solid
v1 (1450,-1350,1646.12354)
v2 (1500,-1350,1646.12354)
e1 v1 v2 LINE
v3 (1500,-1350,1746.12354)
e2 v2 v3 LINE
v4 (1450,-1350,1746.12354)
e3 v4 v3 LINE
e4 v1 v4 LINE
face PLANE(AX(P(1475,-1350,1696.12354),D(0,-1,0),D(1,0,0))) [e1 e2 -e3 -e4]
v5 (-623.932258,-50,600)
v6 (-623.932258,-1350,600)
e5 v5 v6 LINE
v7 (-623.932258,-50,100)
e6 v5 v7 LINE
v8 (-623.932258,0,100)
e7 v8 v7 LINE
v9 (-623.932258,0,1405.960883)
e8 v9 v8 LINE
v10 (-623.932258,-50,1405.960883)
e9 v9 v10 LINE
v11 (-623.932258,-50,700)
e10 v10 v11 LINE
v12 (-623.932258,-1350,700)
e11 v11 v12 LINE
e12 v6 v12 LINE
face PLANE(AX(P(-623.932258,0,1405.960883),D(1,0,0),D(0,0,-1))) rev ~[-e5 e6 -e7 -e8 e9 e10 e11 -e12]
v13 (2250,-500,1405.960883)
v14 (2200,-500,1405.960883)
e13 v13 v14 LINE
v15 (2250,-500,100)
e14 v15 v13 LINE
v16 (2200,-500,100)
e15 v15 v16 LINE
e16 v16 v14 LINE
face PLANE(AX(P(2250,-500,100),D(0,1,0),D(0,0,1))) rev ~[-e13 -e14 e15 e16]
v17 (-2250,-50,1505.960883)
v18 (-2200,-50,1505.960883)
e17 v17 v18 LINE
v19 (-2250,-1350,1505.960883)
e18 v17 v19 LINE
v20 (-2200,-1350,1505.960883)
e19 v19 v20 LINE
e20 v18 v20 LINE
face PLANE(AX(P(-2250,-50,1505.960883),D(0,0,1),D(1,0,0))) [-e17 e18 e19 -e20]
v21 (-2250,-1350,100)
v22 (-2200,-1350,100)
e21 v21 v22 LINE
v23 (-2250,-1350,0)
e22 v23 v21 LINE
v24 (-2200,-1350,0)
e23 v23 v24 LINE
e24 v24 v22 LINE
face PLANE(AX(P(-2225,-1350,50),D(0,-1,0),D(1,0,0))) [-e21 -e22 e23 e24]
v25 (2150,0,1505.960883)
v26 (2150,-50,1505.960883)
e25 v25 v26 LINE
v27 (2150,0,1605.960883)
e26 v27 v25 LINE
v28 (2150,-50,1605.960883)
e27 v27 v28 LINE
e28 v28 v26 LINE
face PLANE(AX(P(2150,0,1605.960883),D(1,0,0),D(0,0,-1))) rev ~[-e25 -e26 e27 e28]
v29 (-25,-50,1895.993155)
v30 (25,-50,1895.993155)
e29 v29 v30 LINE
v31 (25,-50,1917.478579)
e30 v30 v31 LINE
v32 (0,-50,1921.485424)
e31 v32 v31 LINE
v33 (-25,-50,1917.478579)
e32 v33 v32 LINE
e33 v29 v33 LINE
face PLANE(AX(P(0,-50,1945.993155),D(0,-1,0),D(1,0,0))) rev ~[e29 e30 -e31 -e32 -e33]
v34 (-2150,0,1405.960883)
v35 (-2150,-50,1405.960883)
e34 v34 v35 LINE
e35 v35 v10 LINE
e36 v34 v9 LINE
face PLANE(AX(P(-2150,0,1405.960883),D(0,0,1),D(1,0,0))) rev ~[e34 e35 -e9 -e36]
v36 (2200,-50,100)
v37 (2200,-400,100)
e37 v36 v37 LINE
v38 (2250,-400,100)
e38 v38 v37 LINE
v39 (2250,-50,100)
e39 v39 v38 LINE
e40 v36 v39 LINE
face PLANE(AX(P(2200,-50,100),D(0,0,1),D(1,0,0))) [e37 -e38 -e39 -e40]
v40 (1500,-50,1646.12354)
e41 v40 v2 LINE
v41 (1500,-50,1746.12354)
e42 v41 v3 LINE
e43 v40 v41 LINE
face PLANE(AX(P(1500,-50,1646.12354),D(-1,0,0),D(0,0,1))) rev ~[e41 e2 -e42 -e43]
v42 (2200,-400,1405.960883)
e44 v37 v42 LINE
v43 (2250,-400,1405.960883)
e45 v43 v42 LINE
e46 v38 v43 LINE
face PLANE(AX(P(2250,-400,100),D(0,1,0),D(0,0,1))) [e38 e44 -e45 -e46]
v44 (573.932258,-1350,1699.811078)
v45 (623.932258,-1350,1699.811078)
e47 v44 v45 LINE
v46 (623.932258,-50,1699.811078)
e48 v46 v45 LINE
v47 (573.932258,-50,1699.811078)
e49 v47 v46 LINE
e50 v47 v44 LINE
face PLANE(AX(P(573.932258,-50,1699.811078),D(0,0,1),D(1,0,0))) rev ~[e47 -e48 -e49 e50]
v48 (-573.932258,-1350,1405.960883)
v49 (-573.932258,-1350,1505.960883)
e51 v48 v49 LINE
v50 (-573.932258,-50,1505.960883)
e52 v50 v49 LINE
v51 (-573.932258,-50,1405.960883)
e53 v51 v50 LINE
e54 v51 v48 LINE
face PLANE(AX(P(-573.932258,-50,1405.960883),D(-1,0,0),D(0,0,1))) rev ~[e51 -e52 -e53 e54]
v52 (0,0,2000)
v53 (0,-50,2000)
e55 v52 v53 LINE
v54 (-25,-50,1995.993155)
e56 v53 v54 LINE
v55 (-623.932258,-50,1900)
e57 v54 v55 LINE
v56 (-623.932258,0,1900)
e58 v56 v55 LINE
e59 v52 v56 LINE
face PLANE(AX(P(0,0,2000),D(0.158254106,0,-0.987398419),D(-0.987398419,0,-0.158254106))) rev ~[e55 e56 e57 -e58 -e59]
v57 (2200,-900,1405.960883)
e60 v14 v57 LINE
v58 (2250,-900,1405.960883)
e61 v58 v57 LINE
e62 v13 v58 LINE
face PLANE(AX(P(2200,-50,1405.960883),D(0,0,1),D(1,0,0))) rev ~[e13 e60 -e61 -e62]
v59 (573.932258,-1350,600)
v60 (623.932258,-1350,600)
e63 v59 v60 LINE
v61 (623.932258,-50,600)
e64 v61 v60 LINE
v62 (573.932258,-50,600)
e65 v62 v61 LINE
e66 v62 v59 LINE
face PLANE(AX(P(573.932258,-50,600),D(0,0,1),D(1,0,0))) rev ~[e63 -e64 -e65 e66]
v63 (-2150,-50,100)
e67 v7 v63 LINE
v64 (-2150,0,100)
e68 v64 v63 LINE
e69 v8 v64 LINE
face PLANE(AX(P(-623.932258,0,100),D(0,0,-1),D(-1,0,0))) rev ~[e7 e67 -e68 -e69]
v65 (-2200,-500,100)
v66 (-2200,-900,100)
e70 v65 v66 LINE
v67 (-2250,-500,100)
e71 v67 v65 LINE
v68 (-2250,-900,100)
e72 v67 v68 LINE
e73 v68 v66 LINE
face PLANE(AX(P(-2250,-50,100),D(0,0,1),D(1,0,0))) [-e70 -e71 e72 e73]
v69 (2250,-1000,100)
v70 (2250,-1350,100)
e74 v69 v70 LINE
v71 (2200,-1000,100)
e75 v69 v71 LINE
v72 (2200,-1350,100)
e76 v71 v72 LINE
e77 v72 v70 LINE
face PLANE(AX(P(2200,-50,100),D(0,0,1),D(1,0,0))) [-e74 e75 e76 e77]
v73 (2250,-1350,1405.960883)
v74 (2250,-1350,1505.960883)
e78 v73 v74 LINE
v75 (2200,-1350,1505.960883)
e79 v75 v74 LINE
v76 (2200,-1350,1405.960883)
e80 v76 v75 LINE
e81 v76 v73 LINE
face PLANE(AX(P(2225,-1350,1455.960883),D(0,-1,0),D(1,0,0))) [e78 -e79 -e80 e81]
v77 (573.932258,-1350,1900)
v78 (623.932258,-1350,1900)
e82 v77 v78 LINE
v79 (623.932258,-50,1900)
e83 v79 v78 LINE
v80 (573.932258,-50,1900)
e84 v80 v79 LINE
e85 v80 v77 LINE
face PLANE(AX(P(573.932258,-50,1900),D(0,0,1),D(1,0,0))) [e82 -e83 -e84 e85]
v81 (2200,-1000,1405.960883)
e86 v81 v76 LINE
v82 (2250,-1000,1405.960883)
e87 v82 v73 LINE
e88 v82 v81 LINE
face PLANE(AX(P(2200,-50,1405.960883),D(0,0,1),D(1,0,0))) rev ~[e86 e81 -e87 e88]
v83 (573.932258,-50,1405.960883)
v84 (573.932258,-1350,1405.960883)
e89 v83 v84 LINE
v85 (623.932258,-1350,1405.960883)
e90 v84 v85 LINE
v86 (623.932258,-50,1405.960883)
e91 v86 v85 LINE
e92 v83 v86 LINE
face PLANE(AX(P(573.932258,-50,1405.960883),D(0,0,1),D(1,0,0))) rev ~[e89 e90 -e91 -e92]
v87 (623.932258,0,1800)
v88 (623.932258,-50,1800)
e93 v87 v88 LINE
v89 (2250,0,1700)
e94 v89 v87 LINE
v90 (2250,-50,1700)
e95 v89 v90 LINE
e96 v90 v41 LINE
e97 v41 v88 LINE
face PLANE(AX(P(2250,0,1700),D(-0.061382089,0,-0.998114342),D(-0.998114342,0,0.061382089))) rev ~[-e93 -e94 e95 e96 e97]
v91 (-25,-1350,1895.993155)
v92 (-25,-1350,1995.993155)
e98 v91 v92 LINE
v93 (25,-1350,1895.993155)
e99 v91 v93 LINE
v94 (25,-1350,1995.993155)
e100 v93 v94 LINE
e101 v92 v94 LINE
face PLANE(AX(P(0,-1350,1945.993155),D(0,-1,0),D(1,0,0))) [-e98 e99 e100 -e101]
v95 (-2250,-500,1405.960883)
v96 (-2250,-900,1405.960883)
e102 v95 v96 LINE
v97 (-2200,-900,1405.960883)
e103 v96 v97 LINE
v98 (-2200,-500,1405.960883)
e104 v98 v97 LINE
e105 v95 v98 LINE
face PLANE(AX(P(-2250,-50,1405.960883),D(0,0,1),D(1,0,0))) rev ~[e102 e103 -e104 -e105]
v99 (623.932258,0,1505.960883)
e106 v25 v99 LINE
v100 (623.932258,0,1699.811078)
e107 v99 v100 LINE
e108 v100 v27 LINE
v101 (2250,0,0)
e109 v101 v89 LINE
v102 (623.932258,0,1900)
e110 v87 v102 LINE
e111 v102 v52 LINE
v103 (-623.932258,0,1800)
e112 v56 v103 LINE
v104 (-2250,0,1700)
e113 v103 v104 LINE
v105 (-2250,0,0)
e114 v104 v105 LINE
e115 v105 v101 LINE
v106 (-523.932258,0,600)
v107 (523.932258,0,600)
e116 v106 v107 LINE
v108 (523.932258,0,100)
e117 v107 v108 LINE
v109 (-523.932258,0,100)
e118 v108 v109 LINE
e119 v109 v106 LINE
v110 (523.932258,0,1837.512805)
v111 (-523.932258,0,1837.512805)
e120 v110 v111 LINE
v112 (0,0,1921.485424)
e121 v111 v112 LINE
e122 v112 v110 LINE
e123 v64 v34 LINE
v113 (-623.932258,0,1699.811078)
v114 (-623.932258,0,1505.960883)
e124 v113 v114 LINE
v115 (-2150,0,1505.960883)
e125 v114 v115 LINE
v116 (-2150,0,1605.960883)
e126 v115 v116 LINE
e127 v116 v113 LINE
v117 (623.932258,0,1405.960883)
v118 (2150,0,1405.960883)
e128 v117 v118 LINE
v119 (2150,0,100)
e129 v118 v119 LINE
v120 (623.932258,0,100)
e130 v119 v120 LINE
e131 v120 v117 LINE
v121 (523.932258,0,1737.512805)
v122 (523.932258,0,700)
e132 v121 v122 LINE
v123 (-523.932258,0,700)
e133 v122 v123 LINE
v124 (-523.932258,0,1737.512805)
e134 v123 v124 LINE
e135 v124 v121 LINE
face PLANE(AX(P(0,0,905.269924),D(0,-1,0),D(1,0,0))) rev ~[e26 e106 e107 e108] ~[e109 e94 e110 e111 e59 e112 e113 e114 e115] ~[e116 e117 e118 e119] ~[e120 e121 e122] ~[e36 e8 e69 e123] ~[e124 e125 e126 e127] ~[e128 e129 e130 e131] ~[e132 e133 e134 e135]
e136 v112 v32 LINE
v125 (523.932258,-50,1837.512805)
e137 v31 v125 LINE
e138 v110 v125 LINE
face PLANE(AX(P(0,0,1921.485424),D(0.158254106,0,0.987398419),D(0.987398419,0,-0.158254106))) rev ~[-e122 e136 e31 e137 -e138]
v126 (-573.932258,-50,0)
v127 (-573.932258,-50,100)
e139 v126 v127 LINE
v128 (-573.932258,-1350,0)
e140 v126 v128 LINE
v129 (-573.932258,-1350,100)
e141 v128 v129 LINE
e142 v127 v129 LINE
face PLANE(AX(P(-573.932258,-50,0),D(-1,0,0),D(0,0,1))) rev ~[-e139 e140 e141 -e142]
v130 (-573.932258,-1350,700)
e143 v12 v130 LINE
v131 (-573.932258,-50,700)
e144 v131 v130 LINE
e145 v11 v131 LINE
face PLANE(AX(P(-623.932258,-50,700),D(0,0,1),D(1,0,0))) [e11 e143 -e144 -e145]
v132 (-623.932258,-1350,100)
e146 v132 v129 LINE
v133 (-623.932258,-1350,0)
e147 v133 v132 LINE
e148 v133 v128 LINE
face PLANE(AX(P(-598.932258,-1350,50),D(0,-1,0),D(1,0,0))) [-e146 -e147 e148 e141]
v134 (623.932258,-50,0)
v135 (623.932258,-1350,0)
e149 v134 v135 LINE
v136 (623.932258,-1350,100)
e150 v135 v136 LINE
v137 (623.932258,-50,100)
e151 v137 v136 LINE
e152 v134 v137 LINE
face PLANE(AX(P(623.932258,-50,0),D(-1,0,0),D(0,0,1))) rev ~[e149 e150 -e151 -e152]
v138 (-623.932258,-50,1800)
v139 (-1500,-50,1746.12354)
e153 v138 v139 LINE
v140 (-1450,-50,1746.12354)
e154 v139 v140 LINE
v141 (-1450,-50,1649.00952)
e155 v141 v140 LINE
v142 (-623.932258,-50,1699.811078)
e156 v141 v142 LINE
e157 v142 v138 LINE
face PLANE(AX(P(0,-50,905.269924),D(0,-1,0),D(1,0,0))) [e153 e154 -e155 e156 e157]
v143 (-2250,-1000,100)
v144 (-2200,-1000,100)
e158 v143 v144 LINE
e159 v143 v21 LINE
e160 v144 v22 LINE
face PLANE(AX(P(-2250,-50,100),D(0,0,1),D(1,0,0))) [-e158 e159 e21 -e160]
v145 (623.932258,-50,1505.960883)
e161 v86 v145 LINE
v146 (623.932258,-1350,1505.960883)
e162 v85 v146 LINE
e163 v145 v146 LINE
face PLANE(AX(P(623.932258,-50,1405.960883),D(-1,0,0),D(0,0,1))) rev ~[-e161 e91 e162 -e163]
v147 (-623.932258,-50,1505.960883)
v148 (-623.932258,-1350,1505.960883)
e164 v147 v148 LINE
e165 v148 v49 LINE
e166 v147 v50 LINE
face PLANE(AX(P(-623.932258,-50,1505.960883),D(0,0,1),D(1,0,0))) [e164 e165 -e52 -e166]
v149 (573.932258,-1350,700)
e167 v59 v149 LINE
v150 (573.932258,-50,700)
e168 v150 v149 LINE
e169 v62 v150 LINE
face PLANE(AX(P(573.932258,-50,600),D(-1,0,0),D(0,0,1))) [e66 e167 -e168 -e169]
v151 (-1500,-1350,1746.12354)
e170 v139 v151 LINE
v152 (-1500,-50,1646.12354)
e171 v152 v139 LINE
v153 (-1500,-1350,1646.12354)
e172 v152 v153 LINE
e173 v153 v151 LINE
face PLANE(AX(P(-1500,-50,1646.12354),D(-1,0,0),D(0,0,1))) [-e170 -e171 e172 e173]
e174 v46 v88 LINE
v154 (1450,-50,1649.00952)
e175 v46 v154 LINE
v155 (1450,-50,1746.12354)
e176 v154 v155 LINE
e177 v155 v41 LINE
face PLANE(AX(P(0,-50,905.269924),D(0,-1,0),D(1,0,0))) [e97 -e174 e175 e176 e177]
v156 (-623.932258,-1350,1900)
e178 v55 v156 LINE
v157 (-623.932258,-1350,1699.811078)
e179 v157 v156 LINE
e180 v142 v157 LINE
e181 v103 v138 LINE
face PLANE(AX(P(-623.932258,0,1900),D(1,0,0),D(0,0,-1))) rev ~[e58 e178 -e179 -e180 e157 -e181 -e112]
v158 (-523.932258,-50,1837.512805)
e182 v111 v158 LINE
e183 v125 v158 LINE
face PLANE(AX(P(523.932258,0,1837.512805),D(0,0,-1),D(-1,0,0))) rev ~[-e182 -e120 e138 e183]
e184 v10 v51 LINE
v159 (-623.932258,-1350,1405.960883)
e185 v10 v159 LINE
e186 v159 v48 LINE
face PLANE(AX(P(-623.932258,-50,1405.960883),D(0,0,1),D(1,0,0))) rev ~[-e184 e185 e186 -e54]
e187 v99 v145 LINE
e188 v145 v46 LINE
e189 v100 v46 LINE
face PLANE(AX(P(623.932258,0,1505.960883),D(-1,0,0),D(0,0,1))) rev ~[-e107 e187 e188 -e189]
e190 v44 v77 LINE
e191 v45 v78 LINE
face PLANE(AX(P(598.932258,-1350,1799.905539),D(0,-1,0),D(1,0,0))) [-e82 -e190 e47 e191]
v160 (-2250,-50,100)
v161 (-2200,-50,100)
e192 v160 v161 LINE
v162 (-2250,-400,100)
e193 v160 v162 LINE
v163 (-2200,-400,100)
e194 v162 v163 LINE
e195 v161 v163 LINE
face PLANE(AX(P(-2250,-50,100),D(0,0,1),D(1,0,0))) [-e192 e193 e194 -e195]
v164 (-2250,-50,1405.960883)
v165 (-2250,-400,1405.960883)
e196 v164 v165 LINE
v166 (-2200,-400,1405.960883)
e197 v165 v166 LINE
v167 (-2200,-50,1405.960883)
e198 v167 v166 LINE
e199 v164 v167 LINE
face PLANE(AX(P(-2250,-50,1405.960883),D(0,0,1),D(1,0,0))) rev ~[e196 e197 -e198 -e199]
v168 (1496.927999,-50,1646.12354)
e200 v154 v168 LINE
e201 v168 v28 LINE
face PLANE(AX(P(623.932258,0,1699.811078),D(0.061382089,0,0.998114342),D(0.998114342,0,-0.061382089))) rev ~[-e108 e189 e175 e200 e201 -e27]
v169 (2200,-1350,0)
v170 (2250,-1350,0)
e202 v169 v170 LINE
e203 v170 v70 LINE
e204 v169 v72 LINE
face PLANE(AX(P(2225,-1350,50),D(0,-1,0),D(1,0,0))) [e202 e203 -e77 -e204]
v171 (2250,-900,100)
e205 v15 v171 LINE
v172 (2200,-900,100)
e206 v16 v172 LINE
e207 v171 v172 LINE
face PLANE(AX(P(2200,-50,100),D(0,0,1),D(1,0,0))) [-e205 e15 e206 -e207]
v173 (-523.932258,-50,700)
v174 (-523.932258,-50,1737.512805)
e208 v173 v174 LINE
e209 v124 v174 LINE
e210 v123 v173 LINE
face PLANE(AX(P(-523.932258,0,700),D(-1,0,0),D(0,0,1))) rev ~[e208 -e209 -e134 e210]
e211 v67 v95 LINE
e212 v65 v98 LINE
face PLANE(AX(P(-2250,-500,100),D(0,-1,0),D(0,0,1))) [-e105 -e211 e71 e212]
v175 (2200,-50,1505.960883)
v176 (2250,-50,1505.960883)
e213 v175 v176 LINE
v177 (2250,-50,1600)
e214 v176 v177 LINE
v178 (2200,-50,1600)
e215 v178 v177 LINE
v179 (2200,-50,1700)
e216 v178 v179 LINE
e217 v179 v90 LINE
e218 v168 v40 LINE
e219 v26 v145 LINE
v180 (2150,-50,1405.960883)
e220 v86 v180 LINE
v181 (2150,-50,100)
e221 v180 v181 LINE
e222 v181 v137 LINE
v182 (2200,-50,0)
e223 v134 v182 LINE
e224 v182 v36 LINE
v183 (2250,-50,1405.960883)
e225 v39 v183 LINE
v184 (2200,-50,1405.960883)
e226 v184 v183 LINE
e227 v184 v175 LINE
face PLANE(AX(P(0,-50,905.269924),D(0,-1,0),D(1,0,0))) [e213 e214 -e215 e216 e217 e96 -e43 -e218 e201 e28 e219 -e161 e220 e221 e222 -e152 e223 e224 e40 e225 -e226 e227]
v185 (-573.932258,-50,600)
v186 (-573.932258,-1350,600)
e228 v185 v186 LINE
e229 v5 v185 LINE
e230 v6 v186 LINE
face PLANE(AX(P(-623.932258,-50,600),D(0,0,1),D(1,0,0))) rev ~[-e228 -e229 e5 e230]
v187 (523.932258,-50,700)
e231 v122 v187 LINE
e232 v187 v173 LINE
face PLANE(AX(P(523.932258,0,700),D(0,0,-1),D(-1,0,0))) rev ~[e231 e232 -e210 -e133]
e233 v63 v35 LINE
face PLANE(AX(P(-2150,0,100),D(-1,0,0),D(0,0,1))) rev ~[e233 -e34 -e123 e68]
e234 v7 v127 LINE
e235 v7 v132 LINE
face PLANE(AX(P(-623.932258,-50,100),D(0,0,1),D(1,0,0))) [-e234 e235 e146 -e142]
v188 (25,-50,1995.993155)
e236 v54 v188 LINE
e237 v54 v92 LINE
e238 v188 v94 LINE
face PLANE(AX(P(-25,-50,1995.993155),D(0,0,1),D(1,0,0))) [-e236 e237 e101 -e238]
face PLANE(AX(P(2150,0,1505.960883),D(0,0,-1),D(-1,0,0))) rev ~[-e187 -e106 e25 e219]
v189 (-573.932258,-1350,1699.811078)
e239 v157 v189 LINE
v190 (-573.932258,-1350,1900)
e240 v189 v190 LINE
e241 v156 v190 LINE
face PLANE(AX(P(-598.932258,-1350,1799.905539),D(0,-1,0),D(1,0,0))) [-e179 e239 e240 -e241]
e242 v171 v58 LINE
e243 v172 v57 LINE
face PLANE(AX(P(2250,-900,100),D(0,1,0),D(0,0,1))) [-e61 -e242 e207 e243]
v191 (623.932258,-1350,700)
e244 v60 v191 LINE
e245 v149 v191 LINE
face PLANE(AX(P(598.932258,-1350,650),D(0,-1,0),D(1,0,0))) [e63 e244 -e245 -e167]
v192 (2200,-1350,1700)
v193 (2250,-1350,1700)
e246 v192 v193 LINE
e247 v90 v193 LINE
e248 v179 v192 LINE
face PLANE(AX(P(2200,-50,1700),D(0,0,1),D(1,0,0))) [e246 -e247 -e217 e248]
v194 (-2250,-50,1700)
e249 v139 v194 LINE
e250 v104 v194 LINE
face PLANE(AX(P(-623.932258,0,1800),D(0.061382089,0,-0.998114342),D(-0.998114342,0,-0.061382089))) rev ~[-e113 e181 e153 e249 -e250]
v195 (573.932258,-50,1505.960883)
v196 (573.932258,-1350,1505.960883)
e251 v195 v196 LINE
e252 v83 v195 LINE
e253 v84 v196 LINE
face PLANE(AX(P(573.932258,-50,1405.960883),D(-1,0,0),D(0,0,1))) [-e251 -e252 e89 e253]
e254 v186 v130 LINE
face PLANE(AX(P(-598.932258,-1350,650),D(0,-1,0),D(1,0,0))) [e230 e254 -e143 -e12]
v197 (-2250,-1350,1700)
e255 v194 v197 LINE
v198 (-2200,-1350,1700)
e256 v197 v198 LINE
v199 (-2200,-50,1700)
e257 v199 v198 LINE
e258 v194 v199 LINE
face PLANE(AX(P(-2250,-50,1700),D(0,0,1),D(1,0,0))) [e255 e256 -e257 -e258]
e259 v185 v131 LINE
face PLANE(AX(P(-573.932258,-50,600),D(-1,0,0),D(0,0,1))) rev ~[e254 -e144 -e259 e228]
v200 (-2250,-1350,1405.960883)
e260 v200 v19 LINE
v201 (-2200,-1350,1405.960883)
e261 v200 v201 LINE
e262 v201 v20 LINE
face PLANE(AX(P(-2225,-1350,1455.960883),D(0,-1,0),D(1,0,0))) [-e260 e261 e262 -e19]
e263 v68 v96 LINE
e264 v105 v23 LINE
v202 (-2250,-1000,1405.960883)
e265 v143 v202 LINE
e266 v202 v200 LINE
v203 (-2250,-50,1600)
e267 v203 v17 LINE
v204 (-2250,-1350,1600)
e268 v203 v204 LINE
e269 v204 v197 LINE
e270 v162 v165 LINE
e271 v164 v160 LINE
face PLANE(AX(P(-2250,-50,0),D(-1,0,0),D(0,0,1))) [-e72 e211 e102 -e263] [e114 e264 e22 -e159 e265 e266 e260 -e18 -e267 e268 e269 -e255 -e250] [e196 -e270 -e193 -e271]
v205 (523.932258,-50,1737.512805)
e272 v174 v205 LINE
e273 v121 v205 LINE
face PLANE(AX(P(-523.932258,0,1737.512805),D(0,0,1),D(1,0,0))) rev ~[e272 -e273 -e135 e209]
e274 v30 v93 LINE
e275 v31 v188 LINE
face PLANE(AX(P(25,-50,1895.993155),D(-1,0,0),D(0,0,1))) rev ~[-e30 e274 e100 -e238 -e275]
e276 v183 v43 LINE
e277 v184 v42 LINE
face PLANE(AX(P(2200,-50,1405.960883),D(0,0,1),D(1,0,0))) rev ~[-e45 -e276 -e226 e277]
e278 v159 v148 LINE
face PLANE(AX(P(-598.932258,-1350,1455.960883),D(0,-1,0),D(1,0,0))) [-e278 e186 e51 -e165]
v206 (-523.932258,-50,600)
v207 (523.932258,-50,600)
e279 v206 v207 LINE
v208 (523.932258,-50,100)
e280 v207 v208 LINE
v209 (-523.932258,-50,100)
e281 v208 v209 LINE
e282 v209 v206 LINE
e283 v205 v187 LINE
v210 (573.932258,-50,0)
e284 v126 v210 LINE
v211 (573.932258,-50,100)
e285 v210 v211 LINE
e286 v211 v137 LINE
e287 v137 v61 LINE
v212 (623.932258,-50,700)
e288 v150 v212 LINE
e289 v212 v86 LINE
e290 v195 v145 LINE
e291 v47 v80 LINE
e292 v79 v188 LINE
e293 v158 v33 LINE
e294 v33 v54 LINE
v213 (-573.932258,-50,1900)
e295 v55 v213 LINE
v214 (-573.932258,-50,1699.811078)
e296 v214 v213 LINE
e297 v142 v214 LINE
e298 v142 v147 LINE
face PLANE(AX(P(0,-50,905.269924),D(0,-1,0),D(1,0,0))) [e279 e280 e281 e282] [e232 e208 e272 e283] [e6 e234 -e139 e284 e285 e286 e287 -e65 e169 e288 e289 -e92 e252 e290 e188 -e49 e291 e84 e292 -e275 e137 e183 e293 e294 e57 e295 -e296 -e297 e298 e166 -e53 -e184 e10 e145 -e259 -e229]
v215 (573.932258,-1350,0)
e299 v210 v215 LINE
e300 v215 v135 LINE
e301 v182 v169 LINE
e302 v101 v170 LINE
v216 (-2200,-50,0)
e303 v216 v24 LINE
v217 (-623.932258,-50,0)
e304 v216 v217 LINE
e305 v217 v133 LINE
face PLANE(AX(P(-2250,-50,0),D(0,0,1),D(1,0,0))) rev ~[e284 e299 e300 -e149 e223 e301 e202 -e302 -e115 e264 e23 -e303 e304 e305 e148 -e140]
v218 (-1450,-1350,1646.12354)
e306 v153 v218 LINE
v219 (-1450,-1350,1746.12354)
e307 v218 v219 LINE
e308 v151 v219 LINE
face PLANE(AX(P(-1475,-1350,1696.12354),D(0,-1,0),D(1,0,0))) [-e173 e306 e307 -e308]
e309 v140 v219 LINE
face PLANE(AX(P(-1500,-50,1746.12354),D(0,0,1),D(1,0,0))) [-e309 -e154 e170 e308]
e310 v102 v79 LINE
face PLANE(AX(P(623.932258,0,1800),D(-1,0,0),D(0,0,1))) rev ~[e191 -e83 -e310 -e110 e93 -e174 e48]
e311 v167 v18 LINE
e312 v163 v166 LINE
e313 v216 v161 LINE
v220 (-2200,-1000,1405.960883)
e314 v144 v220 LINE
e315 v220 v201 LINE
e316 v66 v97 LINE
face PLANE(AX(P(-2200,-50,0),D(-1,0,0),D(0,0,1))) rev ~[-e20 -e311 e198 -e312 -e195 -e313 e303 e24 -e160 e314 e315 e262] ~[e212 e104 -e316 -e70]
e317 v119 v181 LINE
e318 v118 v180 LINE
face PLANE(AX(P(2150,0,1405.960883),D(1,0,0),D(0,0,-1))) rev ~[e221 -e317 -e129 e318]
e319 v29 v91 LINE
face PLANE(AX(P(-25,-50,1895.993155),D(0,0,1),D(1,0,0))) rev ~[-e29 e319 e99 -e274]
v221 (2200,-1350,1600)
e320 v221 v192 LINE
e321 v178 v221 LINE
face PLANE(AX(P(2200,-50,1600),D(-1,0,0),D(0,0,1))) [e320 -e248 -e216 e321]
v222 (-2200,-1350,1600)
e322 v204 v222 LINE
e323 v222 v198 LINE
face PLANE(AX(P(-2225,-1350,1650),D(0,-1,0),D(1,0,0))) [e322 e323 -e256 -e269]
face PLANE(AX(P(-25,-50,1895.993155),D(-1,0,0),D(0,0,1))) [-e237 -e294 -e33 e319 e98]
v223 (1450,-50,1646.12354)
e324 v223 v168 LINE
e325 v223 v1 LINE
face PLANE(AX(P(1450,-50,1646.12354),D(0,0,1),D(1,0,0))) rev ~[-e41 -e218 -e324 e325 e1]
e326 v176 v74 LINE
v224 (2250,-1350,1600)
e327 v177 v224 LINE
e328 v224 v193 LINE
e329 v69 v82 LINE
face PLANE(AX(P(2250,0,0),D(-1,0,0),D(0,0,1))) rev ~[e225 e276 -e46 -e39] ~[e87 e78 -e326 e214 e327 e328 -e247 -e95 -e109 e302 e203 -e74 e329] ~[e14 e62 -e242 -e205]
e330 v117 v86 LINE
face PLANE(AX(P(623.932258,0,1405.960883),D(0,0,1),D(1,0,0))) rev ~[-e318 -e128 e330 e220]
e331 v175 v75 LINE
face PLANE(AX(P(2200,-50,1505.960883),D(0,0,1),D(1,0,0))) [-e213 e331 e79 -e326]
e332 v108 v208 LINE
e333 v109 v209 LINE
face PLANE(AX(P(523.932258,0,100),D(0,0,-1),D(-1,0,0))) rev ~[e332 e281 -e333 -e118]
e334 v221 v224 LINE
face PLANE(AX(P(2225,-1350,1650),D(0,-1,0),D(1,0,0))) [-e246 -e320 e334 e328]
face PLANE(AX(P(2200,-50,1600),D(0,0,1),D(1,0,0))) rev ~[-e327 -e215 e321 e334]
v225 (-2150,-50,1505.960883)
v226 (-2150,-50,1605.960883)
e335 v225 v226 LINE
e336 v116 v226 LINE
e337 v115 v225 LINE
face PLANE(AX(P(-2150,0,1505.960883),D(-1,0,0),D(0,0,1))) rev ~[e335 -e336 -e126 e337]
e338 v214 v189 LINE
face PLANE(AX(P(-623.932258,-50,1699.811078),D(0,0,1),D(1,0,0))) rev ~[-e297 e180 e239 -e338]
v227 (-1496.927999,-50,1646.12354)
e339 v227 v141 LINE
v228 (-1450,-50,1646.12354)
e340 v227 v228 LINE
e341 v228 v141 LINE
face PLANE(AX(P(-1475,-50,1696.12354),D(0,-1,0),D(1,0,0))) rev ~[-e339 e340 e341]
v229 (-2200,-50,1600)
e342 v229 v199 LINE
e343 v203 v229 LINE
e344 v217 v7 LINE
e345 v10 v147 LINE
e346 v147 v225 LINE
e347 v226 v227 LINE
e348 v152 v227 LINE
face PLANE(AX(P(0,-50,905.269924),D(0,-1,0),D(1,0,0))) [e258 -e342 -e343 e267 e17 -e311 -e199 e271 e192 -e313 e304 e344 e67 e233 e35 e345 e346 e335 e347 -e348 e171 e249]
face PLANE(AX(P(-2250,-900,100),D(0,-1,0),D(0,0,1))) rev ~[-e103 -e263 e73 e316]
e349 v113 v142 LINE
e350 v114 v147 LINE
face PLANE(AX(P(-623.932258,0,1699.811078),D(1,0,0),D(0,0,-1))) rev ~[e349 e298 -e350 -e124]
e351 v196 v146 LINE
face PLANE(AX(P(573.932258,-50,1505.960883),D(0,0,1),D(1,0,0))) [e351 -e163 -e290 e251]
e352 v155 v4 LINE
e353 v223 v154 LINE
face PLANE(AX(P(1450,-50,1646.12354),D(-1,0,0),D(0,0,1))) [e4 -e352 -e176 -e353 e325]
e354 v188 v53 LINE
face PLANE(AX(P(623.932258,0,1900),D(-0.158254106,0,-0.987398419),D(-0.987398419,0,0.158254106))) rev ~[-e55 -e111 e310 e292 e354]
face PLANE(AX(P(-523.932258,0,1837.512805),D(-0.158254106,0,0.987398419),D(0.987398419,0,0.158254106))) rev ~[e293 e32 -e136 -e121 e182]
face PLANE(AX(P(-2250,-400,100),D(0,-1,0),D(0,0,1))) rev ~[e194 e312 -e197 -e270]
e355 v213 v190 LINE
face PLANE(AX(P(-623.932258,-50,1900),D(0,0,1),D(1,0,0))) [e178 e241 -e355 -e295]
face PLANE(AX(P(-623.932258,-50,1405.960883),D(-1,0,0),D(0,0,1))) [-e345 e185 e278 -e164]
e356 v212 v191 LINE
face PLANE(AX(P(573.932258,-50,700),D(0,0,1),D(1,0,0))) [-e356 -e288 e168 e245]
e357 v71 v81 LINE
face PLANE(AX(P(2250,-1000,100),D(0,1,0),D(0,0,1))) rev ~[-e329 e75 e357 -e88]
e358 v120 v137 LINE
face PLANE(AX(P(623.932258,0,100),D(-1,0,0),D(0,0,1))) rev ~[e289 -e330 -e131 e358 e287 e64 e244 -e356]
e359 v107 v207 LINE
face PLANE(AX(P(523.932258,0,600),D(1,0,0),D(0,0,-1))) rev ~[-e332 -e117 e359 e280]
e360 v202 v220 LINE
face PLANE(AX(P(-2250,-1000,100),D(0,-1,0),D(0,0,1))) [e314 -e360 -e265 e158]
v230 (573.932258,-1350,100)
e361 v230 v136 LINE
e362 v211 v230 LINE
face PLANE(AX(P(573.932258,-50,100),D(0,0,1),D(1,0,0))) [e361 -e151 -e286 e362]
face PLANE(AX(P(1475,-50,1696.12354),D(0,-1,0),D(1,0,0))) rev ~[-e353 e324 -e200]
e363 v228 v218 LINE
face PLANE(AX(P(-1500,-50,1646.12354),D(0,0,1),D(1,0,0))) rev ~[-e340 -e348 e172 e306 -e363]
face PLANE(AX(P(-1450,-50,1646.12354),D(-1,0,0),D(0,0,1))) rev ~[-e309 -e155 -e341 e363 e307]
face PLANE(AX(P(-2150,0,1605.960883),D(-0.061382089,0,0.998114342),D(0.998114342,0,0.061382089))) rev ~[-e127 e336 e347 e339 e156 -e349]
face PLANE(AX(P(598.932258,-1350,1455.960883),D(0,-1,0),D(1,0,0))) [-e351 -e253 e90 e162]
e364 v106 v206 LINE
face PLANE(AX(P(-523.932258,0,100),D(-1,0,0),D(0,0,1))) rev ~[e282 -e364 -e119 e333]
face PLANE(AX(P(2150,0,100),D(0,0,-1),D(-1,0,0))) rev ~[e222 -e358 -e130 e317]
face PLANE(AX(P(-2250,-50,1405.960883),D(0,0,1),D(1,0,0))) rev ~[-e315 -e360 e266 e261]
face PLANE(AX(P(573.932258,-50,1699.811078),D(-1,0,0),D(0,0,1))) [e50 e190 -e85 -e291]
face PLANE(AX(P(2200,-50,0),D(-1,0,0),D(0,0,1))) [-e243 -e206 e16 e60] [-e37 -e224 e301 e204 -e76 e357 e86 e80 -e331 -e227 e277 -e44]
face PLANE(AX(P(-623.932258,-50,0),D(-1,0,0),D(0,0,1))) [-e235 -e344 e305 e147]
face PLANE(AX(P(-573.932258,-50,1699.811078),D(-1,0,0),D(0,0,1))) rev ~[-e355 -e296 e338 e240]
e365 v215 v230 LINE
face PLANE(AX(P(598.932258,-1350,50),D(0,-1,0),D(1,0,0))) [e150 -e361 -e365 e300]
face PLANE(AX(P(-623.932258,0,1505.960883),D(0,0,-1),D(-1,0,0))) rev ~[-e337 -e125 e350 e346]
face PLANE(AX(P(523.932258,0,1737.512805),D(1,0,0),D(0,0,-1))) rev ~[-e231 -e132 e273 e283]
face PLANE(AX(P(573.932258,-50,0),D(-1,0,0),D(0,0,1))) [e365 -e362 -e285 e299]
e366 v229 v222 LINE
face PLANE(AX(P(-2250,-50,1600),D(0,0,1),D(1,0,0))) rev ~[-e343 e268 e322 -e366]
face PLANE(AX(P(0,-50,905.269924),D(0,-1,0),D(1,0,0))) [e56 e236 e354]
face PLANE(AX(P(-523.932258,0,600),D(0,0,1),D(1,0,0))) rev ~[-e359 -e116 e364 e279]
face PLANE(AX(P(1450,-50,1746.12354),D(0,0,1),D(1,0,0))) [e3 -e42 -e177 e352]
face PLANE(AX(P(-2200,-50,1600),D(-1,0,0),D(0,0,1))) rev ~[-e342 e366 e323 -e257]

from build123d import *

# Parameters (mm, degrees)
F1_DEPTH = 50
F2_W     = 50
F2_H     = 100
F2_H_2   = 200.1889220677
F3_DEPTH = 1300
F4_W     = 100
F4_H     = 1305.9608832205
F5_DEPTH = 50
F6_W     = 100
F6_H     = 1305.9608832205
F7_DEPTH = 50


with BuildPart() as f1:
    # F0 (on Front) → F1 (new body)
    with BuildSketch(Plane.XZ):
        Polygon((-2250, 0), (0, 0), (2250, 0), (2250, 1700), (623.9322577896, 1800), (623.9322577896, 1900), (0, 2000), (-623.9322577896, 1900), (-623.9322577896, 1800), (-2250, 1700), align=None)
        Polygon((-2150, 1405.9608832205), (-623.9322577896, 1405.9608832205), (-623.9322577896, 600), (-623.9322577896, 100), (-2150, 100), align=None, mode=Mode.SUBTRACT)
        Polygon((0, 600), (523.9322577896, 600), (523.9322577896, 100), (0, 100), (-523.9322577896, 100), (-523.9322577896, 600), align=None, mode=Mode.SUBTRACT)
        Polygon((2150, 1405.9608832205), (2150, 100), (623.9322577896, 100), (623.9322577896, 600), (623.9322577896, 1405.9608832205), align=None, mode=Mode.SUBTRACT)
        Polygon((-623.9322577896, 1505.9608832205), (-2150, 1505.9608832205), (-2150, 1605.9608832205), (-623.9322577896, 1699.8110779323), align=None, mode=Mode.SUBTRACT)
        Polygon((-523.9322577896, 1737.5128050197), (523.9322577896, 1737.5128050197), (523.9322577896, 700), (0, 700), (-523.9322577896, 700), align=None, mode=Mode.SUBTRACT)
        Polygon((-523.9322577896, 1837.5128050197), (0, 1921.4854240417), (523.9322577896, 1837.5128050197), align=None, mode=Mode.SUBTRACT)
        Polygon((623.9322577896, 1505.9608832205), (623.9322577896, 1699.8110779323), (2150, 1605.9608832205), (2150, 1505.9608832205), align=None, mode=Mode.SUBTRACT)
    extrude(amount=F1_DEPTH)

    # F2 (on face) → F3 (join)
    with BuildSketch(Plane.XZ.offset(50)):
        with Locations((-2225, 50)):
            Rectangle(F2_W, F2_H)
        with Locations((-2225, 1650)):
            Rectangle(F2_W, F2_H)
        with Locations((-2225, 1455.9608832205)):
            Rectangle(F2_W, F2_H)
        with Locations((-598.9322577896, 1455.9608832205)):
            Rectangle(F2_W, F2_H)
        with Locations((-598.9322577896, 1799.9055389662)):
            Rectangle(F2_W, F2_H_2)
        with Locations((-1475, 1696.1235396614)):
            Rectangle(F2_W, F2_H)
        with Locations((-598.9322577896, 650)):
            Rectangle(F2_W, F2_H)
        with Locations((-598.9322577896, 50)):
            Rectangle(F2_W, F2_H)
        with Locations((0, 1945.9931547555)):
            Rectangle(F2_W, F2_H)
        with Locations((2225, 1650)):
            Rectangle(F2_W, F2_H)
        with Locations((598.9322577896, 1455.9608832205)):
            Rectangle(F2_W, F2_H)
        with Locations((598.9322577896, 1799.9055389662)):
            Rectangle(F2_W, F2_H_2)
        with Locations((598.9322577896, 50)):
            Rectangle(F2_W, F2_H)
        with Locations((1475, 1696.1235396614)):
            Rectangle(F2_W, F2_H)
        with Locations((598.9322577896, 650)):
            Rectangle(F2_W, F2_H)
        with Locations((2225, 1455.9608832205)):
            Rectangle(F2_W, F2_H)
        with Locations((2225, 50)):
            Rectangle(F2_W, F2_H)
    extrude(amount=F3_DEPTH)

    # F4 (on face) → F5 (join)
    with BuildSketch(Plane(origin=(-2250, 0, 0), x_dir=(0, -1, 0), z_dir=(-1, 0, 0))):
        with Locations((450, 752.9804416103)):
            Rectangle(F4_W, F4_H)
        with Locations((950, 752.9804416103)):
            Rectangle(F4_W, F4_H)
    extrude(amount=-F5_DEPTH)

    # F6 (on face) → F7 (join)
    with BuildSketch(Plane.YZ.offset(2250)):
        with Locations((-950, 752.9804416103)):
            Rectangle(F6_W, F6_H)
        with Locations((-450, 752.9804416103)):
            Rectangle(F6_W, F6_H)
    extrude(amount=-F7_DEPTH)


solid = f1.part
